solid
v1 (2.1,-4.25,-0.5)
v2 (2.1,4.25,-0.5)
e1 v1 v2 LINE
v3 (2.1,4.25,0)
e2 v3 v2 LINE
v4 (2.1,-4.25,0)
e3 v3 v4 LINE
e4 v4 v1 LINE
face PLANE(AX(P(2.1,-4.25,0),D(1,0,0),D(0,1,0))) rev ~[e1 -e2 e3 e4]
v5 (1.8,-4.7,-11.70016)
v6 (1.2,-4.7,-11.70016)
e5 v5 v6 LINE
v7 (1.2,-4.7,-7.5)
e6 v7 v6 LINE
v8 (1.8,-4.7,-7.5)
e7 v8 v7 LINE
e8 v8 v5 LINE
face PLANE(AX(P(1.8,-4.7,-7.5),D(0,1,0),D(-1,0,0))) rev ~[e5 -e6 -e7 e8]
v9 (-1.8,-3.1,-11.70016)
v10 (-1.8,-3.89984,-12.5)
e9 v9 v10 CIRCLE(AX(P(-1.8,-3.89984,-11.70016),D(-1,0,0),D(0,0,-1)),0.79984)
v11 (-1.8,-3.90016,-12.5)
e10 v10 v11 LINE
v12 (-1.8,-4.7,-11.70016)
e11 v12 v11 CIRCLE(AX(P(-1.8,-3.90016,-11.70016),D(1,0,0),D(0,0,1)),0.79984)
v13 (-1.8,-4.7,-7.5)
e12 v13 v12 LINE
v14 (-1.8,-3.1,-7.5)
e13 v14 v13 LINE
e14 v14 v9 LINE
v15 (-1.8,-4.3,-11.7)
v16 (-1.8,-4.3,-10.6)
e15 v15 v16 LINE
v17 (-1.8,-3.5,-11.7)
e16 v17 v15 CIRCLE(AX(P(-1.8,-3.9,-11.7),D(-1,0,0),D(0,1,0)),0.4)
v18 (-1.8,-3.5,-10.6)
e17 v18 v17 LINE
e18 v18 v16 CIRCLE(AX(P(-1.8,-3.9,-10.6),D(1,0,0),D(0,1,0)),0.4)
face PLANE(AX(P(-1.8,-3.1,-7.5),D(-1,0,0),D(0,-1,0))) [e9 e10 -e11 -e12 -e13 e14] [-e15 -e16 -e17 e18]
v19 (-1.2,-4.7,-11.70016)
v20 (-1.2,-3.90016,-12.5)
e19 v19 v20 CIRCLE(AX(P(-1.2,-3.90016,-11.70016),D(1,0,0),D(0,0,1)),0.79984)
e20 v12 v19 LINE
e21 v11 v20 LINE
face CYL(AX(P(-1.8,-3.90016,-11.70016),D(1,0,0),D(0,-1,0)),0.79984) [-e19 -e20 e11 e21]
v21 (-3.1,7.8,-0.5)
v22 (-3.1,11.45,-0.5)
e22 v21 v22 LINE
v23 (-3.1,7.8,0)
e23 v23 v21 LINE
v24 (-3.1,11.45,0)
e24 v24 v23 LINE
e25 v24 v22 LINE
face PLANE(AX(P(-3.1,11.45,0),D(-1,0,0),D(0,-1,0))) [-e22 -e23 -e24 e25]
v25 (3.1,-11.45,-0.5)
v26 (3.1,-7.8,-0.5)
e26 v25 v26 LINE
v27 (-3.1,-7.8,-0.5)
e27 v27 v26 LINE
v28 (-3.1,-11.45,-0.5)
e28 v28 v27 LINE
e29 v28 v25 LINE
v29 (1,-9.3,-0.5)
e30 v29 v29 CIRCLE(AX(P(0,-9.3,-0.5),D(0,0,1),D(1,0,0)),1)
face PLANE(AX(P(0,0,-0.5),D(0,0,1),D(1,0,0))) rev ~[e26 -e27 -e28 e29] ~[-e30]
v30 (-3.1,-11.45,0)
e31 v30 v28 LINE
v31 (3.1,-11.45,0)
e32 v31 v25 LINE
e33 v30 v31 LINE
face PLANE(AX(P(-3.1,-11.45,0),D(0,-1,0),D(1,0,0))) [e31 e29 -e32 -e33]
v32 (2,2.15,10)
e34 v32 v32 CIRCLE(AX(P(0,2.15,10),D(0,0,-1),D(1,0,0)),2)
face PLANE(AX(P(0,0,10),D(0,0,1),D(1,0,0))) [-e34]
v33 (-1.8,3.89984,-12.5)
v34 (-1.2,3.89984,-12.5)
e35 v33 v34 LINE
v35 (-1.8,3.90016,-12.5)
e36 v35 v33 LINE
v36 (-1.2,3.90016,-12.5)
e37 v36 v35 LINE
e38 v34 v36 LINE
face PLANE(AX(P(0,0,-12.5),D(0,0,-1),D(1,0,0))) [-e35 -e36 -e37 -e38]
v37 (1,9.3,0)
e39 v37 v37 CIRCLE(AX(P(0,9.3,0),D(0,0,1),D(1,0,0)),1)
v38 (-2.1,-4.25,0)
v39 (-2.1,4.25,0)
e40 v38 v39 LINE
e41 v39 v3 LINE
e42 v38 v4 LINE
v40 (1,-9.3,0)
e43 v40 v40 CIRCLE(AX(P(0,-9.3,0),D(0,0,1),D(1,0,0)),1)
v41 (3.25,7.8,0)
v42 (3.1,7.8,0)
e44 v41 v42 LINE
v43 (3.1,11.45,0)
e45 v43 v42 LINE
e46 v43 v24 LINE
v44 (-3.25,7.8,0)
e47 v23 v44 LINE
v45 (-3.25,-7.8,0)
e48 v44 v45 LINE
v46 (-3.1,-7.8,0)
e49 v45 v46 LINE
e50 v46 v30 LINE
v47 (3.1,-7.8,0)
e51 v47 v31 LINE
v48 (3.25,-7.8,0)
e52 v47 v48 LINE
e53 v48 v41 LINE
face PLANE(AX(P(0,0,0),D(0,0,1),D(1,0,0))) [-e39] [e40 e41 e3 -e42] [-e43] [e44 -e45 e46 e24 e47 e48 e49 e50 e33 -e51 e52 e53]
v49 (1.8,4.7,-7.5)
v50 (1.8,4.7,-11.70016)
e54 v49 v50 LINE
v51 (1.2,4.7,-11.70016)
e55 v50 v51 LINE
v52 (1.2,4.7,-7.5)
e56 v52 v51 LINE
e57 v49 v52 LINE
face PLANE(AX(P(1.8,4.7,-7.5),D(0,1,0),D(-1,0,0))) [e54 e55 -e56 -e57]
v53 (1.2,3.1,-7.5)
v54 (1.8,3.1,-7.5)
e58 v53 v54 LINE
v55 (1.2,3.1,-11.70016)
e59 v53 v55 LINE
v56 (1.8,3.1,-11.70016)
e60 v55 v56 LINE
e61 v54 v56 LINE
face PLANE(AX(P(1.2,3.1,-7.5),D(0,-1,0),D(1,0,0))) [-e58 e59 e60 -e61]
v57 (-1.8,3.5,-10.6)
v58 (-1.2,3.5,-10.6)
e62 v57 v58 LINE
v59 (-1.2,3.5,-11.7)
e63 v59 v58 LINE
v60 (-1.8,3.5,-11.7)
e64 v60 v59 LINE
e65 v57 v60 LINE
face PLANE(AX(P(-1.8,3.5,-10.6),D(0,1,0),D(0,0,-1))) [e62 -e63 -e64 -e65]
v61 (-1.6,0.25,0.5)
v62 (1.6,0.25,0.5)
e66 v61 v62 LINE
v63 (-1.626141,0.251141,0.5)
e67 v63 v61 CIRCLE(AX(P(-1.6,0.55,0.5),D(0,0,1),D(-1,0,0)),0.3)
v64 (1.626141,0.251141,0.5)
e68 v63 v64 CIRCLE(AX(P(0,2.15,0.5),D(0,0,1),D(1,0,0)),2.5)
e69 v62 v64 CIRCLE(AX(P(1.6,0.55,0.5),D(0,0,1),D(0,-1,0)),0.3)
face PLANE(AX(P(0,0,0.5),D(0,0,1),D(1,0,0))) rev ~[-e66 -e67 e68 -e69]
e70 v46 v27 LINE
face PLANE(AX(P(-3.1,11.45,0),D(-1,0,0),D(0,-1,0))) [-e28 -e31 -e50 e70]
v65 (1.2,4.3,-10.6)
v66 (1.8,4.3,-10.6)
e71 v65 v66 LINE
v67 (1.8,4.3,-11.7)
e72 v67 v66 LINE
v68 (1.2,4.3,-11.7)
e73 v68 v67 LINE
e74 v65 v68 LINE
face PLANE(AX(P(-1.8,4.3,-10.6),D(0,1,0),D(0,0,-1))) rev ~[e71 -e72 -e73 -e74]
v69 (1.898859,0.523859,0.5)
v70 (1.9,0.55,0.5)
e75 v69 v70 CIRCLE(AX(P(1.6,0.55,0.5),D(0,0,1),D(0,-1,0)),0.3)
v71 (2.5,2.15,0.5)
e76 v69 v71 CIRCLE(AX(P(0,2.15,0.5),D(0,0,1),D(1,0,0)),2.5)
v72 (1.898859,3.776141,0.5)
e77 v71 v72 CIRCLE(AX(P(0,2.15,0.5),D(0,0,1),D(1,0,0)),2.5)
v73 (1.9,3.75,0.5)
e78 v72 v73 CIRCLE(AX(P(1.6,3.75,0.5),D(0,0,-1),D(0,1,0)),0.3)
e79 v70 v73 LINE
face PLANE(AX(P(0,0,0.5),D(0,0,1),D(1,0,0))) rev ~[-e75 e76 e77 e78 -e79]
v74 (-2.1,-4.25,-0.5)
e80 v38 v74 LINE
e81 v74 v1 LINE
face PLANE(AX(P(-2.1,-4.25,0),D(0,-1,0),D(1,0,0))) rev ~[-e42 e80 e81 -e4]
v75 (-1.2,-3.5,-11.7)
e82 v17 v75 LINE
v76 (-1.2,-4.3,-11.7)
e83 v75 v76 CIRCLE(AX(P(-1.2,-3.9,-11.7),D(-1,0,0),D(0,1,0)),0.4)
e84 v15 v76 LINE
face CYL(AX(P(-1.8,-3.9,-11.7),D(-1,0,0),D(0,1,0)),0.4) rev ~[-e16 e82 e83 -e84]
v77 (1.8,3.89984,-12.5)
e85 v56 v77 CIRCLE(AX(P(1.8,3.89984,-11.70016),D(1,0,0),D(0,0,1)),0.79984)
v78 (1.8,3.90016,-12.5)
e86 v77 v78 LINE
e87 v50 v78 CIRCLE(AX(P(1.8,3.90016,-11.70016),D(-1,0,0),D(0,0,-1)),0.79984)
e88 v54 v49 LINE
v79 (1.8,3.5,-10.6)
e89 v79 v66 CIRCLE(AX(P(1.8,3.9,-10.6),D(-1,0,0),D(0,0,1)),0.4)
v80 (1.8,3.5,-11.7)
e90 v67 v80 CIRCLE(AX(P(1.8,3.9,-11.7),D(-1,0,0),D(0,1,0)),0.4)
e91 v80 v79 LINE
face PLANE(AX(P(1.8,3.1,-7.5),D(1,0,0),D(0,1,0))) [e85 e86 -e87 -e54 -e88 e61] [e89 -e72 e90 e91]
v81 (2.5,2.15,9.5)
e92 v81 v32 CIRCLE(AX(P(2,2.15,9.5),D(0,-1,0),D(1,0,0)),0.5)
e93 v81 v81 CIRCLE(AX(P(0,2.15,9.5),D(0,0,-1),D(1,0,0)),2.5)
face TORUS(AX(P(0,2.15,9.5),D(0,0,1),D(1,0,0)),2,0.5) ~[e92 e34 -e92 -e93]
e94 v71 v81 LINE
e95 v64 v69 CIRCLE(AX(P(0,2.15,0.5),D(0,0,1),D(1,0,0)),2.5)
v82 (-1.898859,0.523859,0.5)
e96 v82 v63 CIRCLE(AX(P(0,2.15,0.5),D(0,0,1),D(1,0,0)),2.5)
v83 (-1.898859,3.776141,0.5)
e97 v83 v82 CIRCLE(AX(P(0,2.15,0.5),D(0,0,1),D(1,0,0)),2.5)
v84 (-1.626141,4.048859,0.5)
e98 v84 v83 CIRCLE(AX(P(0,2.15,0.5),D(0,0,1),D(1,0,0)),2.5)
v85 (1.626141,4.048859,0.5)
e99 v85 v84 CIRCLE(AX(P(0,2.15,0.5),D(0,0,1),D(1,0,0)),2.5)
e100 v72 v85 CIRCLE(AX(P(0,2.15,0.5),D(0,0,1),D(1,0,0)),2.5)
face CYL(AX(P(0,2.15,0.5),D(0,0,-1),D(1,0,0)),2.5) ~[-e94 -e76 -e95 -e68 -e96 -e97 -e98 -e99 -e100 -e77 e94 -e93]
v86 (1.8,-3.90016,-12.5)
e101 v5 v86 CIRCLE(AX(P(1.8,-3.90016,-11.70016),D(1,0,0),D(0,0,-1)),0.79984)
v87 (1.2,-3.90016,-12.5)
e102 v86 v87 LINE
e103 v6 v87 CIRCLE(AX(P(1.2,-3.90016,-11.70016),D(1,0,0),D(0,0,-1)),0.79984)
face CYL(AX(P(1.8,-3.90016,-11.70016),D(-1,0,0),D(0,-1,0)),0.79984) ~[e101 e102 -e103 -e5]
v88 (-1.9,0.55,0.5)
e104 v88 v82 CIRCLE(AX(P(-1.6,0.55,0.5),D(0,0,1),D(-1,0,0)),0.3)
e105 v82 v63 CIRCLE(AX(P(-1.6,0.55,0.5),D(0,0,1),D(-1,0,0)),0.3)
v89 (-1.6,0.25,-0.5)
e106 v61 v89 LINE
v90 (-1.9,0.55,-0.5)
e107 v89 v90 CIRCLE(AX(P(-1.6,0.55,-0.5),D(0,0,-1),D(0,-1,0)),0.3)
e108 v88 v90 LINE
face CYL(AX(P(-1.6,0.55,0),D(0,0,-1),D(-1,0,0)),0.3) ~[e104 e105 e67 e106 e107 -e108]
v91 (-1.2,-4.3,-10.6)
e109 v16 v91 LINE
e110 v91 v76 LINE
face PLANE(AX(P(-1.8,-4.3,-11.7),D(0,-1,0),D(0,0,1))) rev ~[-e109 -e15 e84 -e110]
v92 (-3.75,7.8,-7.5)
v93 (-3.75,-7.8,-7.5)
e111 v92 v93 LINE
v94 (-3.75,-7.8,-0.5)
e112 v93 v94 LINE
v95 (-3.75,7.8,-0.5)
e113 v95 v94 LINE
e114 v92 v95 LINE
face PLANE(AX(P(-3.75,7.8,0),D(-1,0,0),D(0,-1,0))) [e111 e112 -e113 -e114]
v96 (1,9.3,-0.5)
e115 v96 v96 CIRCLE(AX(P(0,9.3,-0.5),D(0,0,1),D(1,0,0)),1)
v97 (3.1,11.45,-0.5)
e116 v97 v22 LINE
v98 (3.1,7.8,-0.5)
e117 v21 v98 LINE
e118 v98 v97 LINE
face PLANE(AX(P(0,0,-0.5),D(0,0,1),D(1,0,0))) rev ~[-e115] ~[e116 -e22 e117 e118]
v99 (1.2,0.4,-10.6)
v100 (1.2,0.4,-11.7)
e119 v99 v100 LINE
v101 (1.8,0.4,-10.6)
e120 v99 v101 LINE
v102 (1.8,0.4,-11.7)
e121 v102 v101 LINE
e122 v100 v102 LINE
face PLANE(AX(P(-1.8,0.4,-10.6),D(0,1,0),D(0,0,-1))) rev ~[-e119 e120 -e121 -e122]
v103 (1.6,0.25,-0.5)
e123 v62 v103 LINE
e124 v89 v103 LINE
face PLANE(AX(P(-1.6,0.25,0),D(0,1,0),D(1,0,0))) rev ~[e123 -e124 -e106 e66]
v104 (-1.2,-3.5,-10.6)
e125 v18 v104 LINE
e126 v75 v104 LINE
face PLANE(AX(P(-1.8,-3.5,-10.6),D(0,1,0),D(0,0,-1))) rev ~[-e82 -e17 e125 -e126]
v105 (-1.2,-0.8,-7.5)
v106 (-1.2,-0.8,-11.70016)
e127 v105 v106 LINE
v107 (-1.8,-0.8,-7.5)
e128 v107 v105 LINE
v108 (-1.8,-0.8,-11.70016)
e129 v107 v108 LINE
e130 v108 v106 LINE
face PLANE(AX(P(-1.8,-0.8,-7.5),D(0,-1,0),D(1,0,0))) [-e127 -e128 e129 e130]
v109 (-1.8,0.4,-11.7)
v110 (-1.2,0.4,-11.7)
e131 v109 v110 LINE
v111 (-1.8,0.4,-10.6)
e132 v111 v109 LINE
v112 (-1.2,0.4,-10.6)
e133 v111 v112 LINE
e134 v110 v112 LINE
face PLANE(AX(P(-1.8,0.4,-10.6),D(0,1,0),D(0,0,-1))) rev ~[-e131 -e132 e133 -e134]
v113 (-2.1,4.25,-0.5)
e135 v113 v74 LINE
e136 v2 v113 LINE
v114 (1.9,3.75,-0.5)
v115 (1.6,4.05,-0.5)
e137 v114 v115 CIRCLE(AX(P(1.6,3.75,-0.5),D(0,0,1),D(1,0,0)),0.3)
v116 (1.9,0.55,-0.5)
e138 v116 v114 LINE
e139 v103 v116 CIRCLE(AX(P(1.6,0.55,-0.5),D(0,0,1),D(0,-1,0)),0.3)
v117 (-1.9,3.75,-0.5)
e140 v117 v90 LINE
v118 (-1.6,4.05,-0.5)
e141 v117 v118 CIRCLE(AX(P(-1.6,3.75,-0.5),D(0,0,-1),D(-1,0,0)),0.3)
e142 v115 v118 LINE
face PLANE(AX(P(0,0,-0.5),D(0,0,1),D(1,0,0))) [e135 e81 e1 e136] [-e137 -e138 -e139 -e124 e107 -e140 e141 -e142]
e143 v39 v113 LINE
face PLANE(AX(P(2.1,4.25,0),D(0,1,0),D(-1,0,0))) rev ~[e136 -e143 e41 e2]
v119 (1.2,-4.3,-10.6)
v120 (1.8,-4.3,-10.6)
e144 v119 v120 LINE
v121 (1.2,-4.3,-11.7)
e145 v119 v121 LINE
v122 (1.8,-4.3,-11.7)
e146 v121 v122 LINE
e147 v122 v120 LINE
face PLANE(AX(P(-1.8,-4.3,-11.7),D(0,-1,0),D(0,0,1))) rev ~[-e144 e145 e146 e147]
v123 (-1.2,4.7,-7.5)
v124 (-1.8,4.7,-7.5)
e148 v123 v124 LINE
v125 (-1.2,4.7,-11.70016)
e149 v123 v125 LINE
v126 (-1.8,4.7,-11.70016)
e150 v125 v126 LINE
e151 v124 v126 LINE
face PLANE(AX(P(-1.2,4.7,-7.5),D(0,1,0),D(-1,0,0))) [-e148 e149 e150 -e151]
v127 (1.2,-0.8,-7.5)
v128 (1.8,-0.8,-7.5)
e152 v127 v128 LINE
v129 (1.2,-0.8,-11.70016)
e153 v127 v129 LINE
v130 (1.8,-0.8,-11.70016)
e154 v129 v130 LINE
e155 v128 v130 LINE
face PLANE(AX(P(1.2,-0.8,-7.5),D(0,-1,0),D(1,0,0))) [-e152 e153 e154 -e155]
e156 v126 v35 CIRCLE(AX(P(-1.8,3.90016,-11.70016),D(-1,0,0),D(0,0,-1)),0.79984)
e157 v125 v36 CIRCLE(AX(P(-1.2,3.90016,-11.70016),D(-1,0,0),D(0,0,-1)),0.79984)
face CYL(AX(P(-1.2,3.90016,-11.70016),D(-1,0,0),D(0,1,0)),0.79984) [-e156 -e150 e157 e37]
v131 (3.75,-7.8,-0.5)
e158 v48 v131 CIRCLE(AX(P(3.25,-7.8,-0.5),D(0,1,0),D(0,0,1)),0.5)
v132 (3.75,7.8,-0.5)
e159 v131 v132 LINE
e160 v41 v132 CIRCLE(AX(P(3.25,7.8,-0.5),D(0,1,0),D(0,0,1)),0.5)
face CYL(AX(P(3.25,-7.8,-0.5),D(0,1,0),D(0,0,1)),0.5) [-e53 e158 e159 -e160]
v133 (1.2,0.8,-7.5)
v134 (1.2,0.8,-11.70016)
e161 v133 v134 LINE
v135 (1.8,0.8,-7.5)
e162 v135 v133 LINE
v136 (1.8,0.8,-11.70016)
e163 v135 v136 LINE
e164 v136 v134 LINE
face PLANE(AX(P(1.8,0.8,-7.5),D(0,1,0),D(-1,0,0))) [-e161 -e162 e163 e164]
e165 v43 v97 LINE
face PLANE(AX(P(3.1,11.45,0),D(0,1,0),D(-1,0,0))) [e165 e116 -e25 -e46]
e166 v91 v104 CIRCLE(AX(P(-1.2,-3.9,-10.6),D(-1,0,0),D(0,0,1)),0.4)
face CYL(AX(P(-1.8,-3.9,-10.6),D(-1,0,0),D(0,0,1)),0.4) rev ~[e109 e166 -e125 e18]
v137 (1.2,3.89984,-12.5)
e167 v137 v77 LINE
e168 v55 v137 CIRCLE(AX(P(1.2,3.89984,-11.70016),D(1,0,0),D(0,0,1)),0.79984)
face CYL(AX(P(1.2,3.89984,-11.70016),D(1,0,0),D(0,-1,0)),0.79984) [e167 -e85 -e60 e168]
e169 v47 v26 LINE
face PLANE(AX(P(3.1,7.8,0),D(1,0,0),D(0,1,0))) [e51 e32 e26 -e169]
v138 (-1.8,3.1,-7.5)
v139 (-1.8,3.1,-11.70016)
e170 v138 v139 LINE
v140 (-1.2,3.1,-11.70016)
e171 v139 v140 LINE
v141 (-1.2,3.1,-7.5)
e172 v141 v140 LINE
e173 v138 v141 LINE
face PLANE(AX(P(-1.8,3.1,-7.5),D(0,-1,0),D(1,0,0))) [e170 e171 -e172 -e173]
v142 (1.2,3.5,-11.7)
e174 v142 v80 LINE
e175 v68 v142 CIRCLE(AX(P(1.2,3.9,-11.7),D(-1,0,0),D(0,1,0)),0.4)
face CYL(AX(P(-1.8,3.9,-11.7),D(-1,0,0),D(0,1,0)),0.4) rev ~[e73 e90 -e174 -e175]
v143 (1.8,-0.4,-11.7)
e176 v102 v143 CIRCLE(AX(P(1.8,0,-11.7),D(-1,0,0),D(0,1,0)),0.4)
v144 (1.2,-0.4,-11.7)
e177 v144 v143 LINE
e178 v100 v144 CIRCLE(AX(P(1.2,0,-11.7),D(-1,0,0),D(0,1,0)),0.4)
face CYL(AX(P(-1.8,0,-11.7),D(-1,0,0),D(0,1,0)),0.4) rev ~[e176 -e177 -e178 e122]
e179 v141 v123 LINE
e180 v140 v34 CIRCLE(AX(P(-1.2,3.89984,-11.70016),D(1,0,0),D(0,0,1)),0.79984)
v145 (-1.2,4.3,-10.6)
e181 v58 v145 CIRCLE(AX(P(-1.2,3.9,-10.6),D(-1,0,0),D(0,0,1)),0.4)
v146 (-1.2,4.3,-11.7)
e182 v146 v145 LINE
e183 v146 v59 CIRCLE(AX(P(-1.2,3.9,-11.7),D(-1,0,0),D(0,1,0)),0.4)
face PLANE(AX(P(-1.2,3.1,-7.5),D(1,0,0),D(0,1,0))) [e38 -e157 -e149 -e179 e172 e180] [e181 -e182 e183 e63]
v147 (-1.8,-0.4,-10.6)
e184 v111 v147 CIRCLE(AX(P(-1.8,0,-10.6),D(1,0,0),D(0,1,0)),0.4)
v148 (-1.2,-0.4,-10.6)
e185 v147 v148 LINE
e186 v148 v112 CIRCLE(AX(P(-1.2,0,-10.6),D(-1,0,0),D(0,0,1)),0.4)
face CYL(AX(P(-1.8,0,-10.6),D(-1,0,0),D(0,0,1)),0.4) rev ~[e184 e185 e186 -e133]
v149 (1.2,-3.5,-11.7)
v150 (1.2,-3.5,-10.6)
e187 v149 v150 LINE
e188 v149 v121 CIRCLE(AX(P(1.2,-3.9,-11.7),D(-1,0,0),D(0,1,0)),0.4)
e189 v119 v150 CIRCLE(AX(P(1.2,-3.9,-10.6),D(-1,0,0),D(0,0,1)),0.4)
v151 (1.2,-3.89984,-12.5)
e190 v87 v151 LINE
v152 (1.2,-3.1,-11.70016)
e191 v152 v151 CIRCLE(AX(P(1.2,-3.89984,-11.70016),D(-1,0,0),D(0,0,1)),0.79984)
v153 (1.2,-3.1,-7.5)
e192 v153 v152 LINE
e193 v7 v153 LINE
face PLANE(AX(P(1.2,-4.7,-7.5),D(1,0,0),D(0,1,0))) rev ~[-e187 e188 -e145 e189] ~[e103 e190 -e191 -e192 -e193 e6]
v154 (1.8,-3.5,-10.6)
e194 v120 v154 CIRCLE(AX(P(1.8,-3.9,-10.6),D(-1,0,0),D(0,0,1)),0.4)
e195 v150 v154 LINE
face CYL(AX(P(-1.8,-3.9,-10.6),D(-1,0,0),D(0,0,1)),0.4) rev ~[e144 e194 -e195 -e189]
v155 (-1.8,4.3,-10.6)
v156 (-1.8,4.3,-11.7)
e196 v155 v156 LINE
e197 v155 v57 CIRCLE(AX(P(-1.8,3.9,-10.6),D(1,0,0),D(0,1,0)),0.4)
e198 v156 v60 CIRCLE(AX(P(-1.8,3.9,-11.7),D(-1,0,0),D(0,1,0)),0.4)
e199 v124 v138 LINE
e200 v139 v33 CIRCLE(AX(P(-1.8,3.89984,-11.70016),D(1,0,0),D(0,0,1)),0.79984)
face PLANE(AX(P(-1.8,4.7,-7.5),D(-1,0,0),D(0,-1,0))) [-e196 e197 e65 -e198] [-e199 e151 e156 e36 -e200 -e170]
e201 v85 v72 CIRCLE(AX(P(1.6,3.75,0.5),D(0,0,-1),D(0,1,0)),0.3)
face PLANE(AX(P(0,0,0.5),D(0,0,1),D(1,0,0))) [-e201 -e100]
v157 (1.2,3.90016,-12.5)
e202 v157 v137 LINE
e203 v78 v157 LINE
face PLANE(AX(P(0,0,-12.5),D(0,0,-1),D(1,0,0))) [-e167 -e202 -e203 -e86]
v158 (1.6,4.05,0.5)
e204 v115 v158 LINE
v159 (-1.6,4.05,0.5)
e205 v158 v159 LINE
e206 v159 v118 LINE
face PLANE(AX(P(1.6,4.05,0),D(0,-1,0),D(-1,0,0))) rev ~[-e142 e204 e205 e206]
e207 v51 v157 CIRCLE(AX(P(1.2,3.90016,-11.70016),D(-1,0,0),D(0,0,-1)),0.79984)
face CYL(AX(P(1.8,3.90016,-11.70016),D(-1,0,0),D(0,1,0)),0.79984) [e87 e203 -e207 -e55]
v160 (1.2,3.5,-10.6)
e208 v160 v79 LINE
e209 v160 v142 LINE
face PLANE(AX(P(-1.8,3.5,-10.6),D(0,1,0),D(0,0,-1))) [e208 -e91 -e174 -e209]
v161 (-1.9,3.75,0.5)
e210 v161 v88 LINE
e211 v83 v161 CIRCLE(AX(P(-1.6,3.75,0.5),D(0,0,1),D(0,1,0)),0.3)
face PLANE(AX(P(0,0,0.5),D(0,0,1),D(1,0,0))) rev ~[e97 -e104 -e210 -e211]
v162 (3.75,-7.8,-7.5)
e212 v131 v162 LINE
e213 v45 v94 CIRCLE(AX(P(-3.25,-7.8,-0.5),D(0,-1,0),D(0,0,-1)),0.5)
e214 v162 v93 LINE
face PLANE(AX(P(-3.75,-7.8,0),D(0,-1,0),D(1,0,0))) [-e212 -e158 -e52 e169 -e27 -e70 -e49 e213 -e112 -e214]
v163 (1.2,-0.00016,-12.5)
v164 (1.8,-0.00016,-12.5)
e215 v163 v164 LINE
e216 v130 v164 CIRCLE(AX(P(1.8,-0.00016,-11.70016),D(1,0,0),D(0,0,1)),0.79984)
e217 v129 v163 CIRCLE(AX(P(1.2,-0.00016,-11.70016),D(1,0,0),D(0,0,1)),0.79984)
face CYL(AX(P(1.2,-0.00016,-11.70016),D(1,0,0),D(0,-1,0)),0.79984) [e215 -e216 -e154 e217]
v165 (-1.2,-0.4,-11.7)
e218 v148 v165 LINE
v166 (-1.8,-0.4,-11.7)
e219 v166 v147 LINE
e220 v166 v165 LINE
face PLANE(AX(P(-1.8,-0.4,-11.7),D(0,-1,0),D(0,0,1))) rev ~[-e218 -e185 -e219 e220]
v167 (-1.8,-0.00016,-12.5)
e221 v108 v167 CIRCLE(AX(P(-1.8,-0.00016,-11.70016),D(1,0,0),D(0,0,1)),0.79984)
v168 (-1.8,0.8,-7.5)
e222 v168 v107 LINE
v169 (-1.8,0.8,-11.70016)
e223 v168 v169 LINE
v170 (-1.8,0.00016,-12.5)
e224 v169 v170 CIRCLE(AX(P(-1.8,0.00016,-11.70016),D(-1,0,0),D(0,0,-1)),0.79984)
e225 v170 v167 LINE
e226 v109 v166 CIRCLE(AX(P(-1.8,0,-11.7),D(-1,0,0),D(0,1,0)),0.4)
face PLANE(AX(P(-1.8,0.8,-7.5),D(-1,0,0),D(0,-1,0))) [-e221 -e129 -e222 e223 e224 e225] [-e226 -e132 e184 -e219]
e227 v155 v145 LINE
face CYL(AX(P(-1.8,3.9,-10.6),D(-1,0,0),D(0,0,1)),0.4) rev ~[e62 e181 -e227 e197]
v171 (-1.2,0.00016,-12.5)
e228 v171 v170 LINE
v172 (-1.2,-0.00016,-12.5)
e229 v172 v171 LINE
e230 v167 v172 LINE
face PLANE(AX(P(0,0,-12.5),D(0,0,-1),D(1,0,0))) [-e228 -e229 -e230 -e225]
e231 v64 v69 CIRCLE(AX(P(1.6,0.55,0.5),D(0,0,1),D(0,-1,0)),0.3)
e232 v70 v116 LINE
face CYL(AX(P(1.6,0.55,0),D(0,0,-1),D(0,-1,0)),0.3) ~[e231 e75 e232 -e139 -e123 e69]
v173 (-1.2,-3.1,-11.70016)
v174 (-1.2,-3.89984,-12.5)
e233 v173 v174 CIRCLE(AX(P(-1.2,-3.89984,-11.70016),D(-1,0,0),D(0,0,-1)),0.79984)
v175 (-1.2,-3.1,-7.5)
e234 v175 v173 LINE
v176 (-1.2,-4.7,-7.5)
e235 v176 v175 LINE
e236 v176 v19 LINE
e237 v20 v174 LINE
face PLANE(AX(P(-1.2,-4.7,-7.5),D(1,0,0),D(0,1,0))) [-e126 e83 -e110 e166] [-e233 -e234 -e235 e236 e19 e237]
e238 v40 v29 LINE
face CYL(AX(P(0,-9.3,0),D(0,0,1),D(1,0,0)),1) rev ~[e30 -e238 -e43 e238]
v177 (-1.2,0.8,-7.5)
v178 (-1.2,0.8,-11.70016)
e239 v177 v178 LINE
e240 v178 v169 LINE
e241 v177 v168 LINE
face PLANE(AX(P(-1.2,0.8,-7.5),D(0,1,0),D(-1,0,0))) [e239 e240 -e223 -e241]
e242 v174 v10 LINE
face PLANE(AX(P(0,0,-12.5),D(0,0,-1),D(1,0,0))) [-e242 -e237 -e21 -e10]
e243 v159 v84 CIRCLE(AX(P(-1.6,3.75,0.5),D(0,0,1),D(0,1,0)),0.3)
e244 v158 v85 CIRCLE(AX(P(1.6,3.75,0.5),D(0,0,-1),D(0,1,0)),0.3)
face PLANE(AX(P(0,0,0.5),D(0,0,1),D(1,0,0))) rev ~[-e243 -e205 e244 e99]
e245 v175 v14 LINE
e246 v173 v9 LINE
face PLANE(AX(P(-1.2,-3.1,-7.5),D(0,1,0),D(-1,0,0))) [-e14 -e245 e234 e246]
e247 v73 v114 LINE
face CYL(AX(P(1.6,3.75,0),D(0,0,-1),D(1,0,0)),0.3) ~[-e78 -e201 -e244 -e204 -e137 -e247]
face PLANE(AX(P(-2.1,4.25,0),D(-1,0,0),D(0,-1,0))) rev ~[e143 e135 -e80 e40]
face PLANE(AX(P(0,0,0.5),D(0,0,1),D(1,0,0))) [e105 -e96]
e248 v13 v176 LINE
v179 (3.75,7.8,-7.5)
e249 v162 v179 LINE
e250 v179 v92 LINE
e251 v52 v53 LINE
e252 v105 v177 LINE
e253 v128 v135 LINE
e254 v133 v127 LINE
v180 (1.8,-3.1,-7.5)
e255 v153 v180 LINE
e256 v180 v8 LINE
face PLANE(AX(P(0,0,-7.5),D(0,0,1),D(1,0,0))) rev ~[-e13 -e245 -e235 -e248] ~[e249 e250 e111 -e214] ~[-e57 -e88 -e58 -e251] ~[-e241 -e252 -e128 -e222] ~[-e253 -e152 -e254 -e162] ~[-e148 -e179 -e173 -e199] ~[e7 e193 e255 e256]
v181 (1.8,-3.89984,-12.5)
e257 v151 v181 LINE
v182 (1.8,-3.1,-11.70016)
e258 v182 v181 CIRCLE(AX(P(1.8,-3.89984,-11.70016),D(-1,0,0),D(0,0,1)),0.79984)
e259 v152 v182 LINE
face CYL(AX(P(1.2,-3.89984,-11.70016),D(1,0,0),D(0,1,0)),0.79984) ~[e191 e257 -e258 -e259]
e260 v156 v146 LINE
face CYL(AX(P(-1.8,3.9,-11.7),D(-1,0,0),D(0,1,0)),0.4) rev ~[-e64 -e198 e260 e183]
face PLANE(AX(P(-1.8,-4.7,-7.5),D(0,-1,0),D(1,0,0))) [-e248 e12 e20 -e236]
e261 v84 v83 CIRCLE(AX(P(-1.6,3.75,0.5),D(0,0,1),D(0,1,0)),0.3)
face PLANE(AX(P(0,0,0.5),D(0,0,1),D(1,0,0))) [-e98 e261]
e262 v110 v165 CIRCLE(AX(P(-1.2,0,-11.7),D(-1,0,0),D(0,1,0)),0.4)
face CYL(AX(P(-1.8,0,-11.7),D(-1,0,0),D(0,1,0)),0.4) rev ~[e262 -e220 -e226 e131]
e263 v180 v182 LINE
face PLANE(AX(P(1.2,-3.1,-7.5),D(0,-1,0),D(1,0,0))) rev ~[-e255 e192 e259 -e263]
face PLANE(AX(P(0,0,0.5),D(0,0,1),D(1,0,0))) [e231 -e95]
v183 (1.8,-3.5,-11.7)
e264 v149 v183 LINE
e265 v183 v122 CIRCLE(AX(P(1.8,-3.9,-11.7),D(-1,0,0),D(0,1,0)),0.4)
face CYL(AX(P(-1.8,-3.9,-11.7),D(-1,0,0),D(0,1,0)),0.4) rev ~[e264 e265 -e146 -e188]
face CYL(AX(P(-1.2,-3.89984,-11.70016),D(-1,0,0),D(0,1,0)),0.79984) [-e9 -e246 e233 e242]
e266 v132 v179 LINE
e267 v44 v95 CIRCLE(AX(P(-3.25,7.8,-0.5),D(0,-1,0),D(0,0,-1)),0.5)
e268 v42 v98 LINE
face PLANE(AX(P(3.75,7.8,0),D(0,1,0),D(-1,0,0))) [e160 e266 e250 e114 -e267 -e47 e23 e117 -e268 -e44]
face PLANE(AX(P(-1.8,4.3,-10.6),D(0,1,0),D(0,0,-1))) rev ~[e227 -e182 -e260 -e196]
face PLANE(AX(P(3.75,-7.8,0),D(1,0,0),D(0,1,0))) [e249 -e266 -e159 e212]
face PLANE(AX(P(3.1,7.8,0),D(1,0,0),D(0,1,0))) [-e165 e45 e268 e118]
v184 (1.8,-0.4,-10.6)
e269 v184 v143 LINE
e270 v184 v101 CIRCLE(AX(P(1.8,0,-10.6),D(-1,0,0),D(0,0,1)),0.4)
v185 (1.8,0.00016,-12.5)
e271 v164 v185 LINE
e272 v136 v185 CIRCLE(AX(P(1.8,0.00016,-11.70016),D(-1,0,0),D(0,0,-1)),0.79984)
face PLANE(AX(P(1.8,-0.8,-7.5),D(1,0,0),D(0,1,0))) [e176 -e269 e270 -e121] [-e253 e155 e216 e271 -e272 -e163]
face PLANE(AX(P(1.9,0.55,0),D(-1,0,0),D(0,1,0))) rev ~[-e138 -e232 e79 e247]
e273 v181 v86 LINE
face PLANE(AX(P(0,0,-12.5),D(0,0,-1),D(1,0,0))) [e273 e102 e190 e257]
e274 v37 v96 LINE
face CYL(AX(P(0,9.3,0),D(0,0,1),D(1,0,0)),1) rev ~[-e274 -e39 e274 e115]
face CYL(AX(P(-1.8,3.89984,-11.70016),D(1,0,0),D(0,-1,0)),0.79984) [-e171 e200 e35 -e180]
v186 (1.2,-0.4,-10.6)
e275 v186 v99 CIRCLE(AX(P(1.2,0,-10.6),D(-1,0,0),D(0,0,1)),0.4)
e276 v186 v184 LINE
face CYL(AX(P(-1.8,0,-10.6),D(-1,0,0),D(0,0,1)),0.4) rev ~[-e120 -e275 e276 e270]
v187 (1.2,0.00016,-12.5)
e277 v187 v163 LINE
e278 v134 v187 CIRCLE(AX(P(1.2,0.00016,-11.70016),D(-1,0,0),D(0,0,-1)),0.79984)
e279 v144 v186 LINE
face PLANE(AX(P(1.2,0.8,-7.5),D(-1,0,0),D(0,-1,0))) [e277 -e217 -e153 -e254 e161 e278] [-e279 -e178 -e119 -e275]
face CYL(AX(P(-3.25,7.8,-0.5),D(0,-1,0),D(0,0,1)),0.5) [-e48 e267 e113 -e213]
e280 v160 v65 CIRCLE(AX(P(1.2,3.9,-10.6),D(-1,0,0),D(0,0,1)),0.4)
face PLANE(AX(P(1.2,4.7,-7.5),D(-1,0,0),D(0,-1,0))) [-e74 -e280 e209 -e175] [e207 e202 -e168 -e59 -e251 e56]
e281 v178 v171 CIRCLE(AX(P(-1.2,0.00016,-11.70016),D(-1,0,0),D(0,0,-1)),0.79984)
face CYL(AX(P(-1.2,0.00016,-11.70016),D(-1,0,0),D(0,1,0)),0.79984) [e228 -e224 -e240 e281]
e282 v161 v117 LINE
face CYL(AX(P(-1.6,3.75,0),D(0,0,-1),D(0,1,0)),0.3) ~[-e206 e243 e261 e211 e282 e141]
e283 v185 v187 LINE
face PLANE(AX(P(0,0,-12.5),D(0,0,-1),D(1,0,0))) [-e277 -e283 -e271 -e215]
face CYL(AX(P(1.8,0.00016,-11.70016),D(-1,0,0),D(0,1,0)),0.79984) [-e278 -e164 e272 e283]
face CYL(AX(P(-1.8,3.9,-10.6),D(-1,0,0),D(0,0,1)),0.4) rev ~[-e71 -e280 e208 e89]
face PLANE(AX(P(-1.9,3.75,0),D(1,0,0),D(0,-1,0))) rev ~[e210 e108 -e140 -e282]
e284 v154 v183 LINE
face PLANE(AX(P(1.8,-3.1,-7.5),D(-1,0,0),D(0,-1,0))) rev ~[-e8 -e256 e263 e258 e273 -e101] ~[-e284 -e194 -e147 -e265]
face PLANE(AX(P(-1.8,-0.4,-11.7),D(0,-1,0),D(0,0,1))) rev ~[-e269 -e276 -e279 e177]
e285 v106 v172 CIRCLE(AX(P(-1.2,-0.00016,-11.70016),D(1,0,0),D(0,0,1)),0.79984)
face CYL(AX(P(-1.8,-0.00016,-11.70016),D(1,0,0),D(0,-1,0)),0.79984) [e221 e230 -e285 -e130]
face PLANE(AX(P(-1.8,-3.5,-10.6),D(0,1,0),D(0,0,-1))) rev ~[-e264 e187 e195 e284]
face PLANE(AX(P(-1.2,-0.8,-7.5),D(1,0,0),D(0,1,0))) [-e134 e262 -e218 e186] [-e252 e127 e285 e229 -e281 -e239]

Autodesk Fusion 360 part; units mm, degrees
sketch "Skizze1" plane through (0, 0, 0) normal (0, 0, 1) x (1, 0, 0)
  line L0 (3.1, 11.45) -> (-3.1, 11.45)
  line L1 (-3.1, 11.45) -> (-3.1, -11.45)
  line L2 (-3.1, -11.45) -> (3.1, -11.45)
  line L3 (3.1, -11.45) -> (3.1, 11.45)
  line L4 (3.1, 11.45) -> (-3.1, -11.45) construction
  line L5 (-3.1, 11.45) -> (3.1, -11.45) construction
  line L6 (3.75, 7.8) -> (-3.75, 7.8)
  line L7 (-3.75, 7.8) -> (-3.75, -7.8)
  line L8 (-3.75, -7.8) -> (3.75, -7.8)
  line L9 (3.75, -7.8) -> (3.75, 7.8)
  line L10 (3.75, 7.8) -> (-3.75, -7.8) construction
  line L11 (-3.75, 7.8) -> (3.75, -7.8) construction
  line L12 (0, 0) -> (6.5711, 0) construction
  line L13 (0, 0) -> (0, 13.796) construction
  line L14 (2.1, 4.25) -> (-2.1, 4.25)
  line L15 (-2.1, 4.25) -> (-2.1, -4.25)
  line L16 (-2.1, -4.25) -> (2.1, -4.25)
  line L17 (2.1, -4.25) -> (2.1, 4.25)
  line L18 (2.1, 4.25) -> (-2.1, -4.25) construction
  line L19 (-2.1, 4.25) -> (2.1, -4.25) construction
  line L20 (-1.6, 0.25) -> (1.6, 0.25)
  line L21 (1.9, 0.55) -> (1.9, 3.75)
  line L22 (1.6, 4.05) -> (-1.6, 4.05)
  line L23 (-1.9, 3.75) -> (-1.9, 0.55)
  arc A0 (-1.6, 4.05) -> (-1.9, 3.75) centre (-1.6, 3.75) ccw
  arc A1 (1.9, 3.75) -> (1.6, 4.05) centre (1.6, 3.75) ccw
  arc A2 (1.6, 0.25) -> (1.9, 0.55) centre (1.6, 0.55) ccw
  arc A3 (-1.9, 0.55) -> (-1.6, 0.25) centre (-1.6, 0.55) ccw
  line L24 (-1.9, 2.15) -> (1.9, 2.15) construction
  circle A4 centre (0, 2.15) radius 2.5
  circle A5 centre (0, 9.3) radius 1
  line L25 (0, 0) -> (0, -9.9922) construction
  circle A6 centre (0, -9.3) radius 1
  point P0 (1.9, 4.05)
  point P1 (-1.9, 4.05)
  dimension "d133" = 6.2
  dimension "d134" = 22.9
  dimension "d135" = 7.5
  dimension "d136" = 15.6
  dimension "d137" = 4.2
  dimension "d138" = 8.5
  dimension "d139" = 3.8
  dimension "d140" = 3.8
  dimension "d141" = 0.2
  dimension "d142" = 0.2
  dimension "d143" = 0.3
  dimension "d144" = 0.3
  dimension "d145" = 0.3
  dimension "d146" = 0.3
  dimension "d147" = 5
  dimension "d148" = 2
  dimension "d149" = 9.3
extrude "Extrusion1" add sketch "Skizze1" against normal blind 0.5 contours L0 L1 L3 L6 | L1 L3 L6 L8 | L1 L2 L3 L8 | L14 A4 | L17 A4 | L15 A4
extrude "Extrusion2" add sketch "Skizze1" against normal blind 0.5 contours L3 L6 L8 L9 | L1 L6 L7 L8
extrude "Extrusion3" add sketch "Skizze1" against normal blind 7 from surface at -0.5 contours L3 L6 L8 L9 | L1 L3 L6 L8 | L1 L6 L7 L8 | L14 L17 A1 A4 | L14 L22 A0 A1 A4 | L14 A4 | L17 A4 | L17 L21 A1 A2 A4 | L14 L15 A0 A4 | L20 L21 L22 L23 A0 A1 A2 A3 A4 | A1 A4 | L15 L16 L17 A2 A3 A4 | A0 A4 | A2 A4 | L15 L23 A0 A3 A4 | L15 A4 | L20 A2 A3 A4 | A3 A4
fillet "Abrundung1" radius 0.5 2 edges at (3.75, 0, 0) (-3.75, 0, 0)
extrude "Extrusion4" add sketch "Skizze1" along normal blind 0.5 and the other way blind 0.5 contours L20 L21 L22 L23 A0 A1 A2 A3 A4 | A1 A4 | A0 A4 | A2 A4 | A3 A4
extrude "Extrusion5" add sketch "Skizze1" along normal blind 9.5 from surface at 0.5 contours L14 L22 A0 A1 A4 | L14 A4 | L17 A4 | L17 L21 A1 A2 A4 | L20 L21 L22 L23 A0 A1 A2 A3 A4 | L15 L23 A0 A3 A4 | L15 A4 | L20 A2 A3 A4
fillet "Abrundung2" radius 0.5 1 edges at (-2.3308, 1.246, 10)
sketch "Skizze2" plane through (0, 0, -7.5) normal (0, 0, -1) x (1, 0, 0)
  line L0 (3.75, -7.8) -> (3.75, 7.8)
  line L1 (3.75, 7.8) -> (-3.75, 7.8)
  line L2 (-3.75, 7.8) -> (-3.75, -7.8)
  line L3 (-3.75, -7.8) -> (3.75, -7.8)
  line L4 (3.75, 7.8) -> (3.75, -7.8)
  line L5 (-3.75, 7.8) -> (3.75, 7.8)
  line L6 (-3.75, -7.8) -> (-3.75, 7.8)
  line L7 (3.75, -7.8) -> (-3.75, -7.8)
  line L8 (0, 0) -> (0, 9.0857) construction
  line L9 (0, 0) -> (7.5179, 0) construction
  line L10 (1.2, 0.8) -> (1.8, 0.8)
  line L11 (1.8, 0.8) -> (1.8, -0.8)
  line L12 (1.8, -0.8) -> (1.2, -0.8)
  line L13 (1.2, -0.8) -> (1.2, 0.8)
  line L14 (-1.8, 0.8) -> (-1.2, 0.8)
  line L15 (-1.2, 0.8) -> (-1.2, -0.8)
  line L16 (-1.2, -0.8) -> (-1.8, -0.8)
  line L17 (-1.8, -0.8) -> (-1.8, 0.8)
  line L18 (1.2, 3.1) -> (1.8, 3.1)
  line L19 (1.8, 3.1) -> (1.8, 4.7)
  line L20 (1.8, 4.7) -> (1.2, 4.7)
  line L21 (1.2, 4.7) -> (1.2, 3.1)
  line L22 (-1.8, 4.7) -> (-1.2, 4.7)
  line L23 (-1.2, 4.7) -> (-1.2, 3.1)
  line L24 (-1.2, 3.1) -> (-1.8, 3.1)
  line L25 (-1.8, 3.1) -> (-1.8, 4.7)
  line L26 (1.2, -3.1) -> (1.8, -3.1)
  line L27 (1.8, -3.1) -> (1.8, -4.7)
  line L28 (1.8, -4.7) -> (1.2, -4.7)
  line L29 (1.2, -4.7) -> (1.2, -3.1)
  line L30 (-1.8, -3.1) -> (-1.2, -3.1)
  line L31 (-1.2, -3.1) -> (-1.2, -4.7)
  line L32 (-1.2, -4.7) -> (-1.8, -4.7)
  line L33 (-1.8, -4.7) -> (-1.8, -3.1)
  dimension "d166" = 0.6
  dimension "d167" = 1.6
  dimension "d168" = 1.2
  dimension "d169" = 1.6
  dimension "d170" = 5.5
extrude "Extrusion6" add sketch "Skizze2" along normal blind 5 contours L10 L11 L12 L13 | L14 L15 L16 L17 | L18 L19 L20 L21 | L22 L23 L24 L25 | L26 L27 L28 L29 | L30 L31 L32 L33
fillet "Abrundung3" radius 0.8 12 edges at (-1.5, -3.1, -12.5) (-1.5, -4.7, -12.5) (1.5, -4.7, -12.5) (1.5, -3.1, -12.5) (-1.5, -0.8, -12.5) (-1.5, 0.8, -12.5) (1.5, 0.8, -12.5) (1.5, -0.8, -12.5) (-1.5, 4.7, -12.5) (-1.5, 3.1, -12.5) (1.5, 3.1, -12.5) (1.5, 4.7, -12.5)
sketch "Skizze3" plane through (-1.8, 0, 0) normal (-1, 0, 0) x (0, -1, 0)
  arc A0 (-0.8, -11.7) -> (0.8, -11.7) centre (0, -11.7) ccw
  line L0 (0.8, -11.7) -> (0.8, -7.5)
  line L1 (0.8, -7.5) -> (-0.8, -7.5)
  line L2 (-0.8, -7.5) -> (-0.8, -11.7)
  line L3 (-4.7, -7.5) -> (-4.7, -11.7)
  arc A1 (-4.7, -11.7) -> (-3.1, -11.7) centre (-3.9, -11.7) ccw
  line L4 (-3.1, -7.5) -> (-3.1, -11.7)
  line L5 (-0.8, -7.5) -> (-0.8, -11.7)
  arc A2 (-0.8, -11.7) -> (0.8, -11.7) centre (0, -11.7) ccw
  line L6 (0.8, -7.5) -> (0.8, -11.7)
  line L7 (3.1, -7.5) -> (3.1, -11.7)
  line L8 (4.7, -7.5) -> (4.7, -11.7)
  arc A3 (3.1, -11.7) -> (4.7, -11.7) centre (3.9, -11.7) ccw
  line L9 (4.7, -11.7) -> (4.7, -7.5)
  line L10 (4.7, -7.5) -> (3.1, -7.5)
  line L11 (3.1, -7.5) -> (3.1, -11.7)
  line L12 (7.8, -7.5) -> (-7.8, -7.5)
  line L13 (-4.3, -10.6) -> (-4.3, -11.7)
  arc A4 (-4.3, -11.7) -> (-3.5, -11.7) centre (-3.9, -11.7) ccw
  line L14 (-3.5, -10.6) -> (-3.5, -11.7)
  line L15 (-0.4, -10.6) -> (-0.4, -11.7)
  arc A5 (-0.4, -11.7) -> (0.4, -11.7) centre (0, -11.7) ccw
  line L16 (0.4, -11.7) -> (0.4, -10.6)
  line L17 (3.5, -10.6) -> (3.5, -11.7)
  arc A6 (3.5, -11.7) -> (4.3, -11.7) centre (3.9, -11.7) ccw
  line L18 (4.3, -11.7) -> (4.3, -10.6)
  line L19 (-3.9, -10.2) -> (-3.9, -10.2)
  line L20 (0, -10.2) -> (0, -10.2)
  line L21 (3.9, -10.2) -> (3.9, -10.2)
  arc A7 (0, -10.2) -> (-0.4, -10.6) centre (0, -10.6) ccw
  arc A8 (0.4, -10.6) -> (0, -10.2) centre (0, -10.6) ccw
  arc A9 (-3.5, -10.6) -> (-3.9, -10.2) centre (-3.9, -10.6) ccw
  arc A10 (-3.9, -10.2) -> (-4.3, -10.6) centre (-3.9, -10.6) ccw
  arc A11 (3.9, -10.2) -> (3.5, -10.6) centre (3.9, -10.6) ccw
  arc A12 (4.3, -10.6) -> (3.9, -10.2) centre (3.9, -10.6) ccw
  dimension "d178" = 0.4
  dimension "d179" = 0.4
  dimension "d180" = 0.4
  dimension "d181" = 0.4
  dimension "d182" = 0.4
  dimension "d183" = 0.4
  dimension "d184" = 0.4
  dimension "d185" = 1.1
  dimension "d186" = 0.4
  dimension "d187" = 0.4
  dimension "d188" = 1.1
  dimension "d189" = 1.1
extrude "Extrusion7" cut sketch "Skizze3" against normal blind 4 contours L13 A4 L14 A9 A10 | L15 A5 L16 A7 A8 | L17 A6 L18 A11 A12
ref_plane "Arbeitsebene1" through (0, 0, -3.75) normal (1, 0, 0) x (0, -1, 0)
equation "d169 = d167"
